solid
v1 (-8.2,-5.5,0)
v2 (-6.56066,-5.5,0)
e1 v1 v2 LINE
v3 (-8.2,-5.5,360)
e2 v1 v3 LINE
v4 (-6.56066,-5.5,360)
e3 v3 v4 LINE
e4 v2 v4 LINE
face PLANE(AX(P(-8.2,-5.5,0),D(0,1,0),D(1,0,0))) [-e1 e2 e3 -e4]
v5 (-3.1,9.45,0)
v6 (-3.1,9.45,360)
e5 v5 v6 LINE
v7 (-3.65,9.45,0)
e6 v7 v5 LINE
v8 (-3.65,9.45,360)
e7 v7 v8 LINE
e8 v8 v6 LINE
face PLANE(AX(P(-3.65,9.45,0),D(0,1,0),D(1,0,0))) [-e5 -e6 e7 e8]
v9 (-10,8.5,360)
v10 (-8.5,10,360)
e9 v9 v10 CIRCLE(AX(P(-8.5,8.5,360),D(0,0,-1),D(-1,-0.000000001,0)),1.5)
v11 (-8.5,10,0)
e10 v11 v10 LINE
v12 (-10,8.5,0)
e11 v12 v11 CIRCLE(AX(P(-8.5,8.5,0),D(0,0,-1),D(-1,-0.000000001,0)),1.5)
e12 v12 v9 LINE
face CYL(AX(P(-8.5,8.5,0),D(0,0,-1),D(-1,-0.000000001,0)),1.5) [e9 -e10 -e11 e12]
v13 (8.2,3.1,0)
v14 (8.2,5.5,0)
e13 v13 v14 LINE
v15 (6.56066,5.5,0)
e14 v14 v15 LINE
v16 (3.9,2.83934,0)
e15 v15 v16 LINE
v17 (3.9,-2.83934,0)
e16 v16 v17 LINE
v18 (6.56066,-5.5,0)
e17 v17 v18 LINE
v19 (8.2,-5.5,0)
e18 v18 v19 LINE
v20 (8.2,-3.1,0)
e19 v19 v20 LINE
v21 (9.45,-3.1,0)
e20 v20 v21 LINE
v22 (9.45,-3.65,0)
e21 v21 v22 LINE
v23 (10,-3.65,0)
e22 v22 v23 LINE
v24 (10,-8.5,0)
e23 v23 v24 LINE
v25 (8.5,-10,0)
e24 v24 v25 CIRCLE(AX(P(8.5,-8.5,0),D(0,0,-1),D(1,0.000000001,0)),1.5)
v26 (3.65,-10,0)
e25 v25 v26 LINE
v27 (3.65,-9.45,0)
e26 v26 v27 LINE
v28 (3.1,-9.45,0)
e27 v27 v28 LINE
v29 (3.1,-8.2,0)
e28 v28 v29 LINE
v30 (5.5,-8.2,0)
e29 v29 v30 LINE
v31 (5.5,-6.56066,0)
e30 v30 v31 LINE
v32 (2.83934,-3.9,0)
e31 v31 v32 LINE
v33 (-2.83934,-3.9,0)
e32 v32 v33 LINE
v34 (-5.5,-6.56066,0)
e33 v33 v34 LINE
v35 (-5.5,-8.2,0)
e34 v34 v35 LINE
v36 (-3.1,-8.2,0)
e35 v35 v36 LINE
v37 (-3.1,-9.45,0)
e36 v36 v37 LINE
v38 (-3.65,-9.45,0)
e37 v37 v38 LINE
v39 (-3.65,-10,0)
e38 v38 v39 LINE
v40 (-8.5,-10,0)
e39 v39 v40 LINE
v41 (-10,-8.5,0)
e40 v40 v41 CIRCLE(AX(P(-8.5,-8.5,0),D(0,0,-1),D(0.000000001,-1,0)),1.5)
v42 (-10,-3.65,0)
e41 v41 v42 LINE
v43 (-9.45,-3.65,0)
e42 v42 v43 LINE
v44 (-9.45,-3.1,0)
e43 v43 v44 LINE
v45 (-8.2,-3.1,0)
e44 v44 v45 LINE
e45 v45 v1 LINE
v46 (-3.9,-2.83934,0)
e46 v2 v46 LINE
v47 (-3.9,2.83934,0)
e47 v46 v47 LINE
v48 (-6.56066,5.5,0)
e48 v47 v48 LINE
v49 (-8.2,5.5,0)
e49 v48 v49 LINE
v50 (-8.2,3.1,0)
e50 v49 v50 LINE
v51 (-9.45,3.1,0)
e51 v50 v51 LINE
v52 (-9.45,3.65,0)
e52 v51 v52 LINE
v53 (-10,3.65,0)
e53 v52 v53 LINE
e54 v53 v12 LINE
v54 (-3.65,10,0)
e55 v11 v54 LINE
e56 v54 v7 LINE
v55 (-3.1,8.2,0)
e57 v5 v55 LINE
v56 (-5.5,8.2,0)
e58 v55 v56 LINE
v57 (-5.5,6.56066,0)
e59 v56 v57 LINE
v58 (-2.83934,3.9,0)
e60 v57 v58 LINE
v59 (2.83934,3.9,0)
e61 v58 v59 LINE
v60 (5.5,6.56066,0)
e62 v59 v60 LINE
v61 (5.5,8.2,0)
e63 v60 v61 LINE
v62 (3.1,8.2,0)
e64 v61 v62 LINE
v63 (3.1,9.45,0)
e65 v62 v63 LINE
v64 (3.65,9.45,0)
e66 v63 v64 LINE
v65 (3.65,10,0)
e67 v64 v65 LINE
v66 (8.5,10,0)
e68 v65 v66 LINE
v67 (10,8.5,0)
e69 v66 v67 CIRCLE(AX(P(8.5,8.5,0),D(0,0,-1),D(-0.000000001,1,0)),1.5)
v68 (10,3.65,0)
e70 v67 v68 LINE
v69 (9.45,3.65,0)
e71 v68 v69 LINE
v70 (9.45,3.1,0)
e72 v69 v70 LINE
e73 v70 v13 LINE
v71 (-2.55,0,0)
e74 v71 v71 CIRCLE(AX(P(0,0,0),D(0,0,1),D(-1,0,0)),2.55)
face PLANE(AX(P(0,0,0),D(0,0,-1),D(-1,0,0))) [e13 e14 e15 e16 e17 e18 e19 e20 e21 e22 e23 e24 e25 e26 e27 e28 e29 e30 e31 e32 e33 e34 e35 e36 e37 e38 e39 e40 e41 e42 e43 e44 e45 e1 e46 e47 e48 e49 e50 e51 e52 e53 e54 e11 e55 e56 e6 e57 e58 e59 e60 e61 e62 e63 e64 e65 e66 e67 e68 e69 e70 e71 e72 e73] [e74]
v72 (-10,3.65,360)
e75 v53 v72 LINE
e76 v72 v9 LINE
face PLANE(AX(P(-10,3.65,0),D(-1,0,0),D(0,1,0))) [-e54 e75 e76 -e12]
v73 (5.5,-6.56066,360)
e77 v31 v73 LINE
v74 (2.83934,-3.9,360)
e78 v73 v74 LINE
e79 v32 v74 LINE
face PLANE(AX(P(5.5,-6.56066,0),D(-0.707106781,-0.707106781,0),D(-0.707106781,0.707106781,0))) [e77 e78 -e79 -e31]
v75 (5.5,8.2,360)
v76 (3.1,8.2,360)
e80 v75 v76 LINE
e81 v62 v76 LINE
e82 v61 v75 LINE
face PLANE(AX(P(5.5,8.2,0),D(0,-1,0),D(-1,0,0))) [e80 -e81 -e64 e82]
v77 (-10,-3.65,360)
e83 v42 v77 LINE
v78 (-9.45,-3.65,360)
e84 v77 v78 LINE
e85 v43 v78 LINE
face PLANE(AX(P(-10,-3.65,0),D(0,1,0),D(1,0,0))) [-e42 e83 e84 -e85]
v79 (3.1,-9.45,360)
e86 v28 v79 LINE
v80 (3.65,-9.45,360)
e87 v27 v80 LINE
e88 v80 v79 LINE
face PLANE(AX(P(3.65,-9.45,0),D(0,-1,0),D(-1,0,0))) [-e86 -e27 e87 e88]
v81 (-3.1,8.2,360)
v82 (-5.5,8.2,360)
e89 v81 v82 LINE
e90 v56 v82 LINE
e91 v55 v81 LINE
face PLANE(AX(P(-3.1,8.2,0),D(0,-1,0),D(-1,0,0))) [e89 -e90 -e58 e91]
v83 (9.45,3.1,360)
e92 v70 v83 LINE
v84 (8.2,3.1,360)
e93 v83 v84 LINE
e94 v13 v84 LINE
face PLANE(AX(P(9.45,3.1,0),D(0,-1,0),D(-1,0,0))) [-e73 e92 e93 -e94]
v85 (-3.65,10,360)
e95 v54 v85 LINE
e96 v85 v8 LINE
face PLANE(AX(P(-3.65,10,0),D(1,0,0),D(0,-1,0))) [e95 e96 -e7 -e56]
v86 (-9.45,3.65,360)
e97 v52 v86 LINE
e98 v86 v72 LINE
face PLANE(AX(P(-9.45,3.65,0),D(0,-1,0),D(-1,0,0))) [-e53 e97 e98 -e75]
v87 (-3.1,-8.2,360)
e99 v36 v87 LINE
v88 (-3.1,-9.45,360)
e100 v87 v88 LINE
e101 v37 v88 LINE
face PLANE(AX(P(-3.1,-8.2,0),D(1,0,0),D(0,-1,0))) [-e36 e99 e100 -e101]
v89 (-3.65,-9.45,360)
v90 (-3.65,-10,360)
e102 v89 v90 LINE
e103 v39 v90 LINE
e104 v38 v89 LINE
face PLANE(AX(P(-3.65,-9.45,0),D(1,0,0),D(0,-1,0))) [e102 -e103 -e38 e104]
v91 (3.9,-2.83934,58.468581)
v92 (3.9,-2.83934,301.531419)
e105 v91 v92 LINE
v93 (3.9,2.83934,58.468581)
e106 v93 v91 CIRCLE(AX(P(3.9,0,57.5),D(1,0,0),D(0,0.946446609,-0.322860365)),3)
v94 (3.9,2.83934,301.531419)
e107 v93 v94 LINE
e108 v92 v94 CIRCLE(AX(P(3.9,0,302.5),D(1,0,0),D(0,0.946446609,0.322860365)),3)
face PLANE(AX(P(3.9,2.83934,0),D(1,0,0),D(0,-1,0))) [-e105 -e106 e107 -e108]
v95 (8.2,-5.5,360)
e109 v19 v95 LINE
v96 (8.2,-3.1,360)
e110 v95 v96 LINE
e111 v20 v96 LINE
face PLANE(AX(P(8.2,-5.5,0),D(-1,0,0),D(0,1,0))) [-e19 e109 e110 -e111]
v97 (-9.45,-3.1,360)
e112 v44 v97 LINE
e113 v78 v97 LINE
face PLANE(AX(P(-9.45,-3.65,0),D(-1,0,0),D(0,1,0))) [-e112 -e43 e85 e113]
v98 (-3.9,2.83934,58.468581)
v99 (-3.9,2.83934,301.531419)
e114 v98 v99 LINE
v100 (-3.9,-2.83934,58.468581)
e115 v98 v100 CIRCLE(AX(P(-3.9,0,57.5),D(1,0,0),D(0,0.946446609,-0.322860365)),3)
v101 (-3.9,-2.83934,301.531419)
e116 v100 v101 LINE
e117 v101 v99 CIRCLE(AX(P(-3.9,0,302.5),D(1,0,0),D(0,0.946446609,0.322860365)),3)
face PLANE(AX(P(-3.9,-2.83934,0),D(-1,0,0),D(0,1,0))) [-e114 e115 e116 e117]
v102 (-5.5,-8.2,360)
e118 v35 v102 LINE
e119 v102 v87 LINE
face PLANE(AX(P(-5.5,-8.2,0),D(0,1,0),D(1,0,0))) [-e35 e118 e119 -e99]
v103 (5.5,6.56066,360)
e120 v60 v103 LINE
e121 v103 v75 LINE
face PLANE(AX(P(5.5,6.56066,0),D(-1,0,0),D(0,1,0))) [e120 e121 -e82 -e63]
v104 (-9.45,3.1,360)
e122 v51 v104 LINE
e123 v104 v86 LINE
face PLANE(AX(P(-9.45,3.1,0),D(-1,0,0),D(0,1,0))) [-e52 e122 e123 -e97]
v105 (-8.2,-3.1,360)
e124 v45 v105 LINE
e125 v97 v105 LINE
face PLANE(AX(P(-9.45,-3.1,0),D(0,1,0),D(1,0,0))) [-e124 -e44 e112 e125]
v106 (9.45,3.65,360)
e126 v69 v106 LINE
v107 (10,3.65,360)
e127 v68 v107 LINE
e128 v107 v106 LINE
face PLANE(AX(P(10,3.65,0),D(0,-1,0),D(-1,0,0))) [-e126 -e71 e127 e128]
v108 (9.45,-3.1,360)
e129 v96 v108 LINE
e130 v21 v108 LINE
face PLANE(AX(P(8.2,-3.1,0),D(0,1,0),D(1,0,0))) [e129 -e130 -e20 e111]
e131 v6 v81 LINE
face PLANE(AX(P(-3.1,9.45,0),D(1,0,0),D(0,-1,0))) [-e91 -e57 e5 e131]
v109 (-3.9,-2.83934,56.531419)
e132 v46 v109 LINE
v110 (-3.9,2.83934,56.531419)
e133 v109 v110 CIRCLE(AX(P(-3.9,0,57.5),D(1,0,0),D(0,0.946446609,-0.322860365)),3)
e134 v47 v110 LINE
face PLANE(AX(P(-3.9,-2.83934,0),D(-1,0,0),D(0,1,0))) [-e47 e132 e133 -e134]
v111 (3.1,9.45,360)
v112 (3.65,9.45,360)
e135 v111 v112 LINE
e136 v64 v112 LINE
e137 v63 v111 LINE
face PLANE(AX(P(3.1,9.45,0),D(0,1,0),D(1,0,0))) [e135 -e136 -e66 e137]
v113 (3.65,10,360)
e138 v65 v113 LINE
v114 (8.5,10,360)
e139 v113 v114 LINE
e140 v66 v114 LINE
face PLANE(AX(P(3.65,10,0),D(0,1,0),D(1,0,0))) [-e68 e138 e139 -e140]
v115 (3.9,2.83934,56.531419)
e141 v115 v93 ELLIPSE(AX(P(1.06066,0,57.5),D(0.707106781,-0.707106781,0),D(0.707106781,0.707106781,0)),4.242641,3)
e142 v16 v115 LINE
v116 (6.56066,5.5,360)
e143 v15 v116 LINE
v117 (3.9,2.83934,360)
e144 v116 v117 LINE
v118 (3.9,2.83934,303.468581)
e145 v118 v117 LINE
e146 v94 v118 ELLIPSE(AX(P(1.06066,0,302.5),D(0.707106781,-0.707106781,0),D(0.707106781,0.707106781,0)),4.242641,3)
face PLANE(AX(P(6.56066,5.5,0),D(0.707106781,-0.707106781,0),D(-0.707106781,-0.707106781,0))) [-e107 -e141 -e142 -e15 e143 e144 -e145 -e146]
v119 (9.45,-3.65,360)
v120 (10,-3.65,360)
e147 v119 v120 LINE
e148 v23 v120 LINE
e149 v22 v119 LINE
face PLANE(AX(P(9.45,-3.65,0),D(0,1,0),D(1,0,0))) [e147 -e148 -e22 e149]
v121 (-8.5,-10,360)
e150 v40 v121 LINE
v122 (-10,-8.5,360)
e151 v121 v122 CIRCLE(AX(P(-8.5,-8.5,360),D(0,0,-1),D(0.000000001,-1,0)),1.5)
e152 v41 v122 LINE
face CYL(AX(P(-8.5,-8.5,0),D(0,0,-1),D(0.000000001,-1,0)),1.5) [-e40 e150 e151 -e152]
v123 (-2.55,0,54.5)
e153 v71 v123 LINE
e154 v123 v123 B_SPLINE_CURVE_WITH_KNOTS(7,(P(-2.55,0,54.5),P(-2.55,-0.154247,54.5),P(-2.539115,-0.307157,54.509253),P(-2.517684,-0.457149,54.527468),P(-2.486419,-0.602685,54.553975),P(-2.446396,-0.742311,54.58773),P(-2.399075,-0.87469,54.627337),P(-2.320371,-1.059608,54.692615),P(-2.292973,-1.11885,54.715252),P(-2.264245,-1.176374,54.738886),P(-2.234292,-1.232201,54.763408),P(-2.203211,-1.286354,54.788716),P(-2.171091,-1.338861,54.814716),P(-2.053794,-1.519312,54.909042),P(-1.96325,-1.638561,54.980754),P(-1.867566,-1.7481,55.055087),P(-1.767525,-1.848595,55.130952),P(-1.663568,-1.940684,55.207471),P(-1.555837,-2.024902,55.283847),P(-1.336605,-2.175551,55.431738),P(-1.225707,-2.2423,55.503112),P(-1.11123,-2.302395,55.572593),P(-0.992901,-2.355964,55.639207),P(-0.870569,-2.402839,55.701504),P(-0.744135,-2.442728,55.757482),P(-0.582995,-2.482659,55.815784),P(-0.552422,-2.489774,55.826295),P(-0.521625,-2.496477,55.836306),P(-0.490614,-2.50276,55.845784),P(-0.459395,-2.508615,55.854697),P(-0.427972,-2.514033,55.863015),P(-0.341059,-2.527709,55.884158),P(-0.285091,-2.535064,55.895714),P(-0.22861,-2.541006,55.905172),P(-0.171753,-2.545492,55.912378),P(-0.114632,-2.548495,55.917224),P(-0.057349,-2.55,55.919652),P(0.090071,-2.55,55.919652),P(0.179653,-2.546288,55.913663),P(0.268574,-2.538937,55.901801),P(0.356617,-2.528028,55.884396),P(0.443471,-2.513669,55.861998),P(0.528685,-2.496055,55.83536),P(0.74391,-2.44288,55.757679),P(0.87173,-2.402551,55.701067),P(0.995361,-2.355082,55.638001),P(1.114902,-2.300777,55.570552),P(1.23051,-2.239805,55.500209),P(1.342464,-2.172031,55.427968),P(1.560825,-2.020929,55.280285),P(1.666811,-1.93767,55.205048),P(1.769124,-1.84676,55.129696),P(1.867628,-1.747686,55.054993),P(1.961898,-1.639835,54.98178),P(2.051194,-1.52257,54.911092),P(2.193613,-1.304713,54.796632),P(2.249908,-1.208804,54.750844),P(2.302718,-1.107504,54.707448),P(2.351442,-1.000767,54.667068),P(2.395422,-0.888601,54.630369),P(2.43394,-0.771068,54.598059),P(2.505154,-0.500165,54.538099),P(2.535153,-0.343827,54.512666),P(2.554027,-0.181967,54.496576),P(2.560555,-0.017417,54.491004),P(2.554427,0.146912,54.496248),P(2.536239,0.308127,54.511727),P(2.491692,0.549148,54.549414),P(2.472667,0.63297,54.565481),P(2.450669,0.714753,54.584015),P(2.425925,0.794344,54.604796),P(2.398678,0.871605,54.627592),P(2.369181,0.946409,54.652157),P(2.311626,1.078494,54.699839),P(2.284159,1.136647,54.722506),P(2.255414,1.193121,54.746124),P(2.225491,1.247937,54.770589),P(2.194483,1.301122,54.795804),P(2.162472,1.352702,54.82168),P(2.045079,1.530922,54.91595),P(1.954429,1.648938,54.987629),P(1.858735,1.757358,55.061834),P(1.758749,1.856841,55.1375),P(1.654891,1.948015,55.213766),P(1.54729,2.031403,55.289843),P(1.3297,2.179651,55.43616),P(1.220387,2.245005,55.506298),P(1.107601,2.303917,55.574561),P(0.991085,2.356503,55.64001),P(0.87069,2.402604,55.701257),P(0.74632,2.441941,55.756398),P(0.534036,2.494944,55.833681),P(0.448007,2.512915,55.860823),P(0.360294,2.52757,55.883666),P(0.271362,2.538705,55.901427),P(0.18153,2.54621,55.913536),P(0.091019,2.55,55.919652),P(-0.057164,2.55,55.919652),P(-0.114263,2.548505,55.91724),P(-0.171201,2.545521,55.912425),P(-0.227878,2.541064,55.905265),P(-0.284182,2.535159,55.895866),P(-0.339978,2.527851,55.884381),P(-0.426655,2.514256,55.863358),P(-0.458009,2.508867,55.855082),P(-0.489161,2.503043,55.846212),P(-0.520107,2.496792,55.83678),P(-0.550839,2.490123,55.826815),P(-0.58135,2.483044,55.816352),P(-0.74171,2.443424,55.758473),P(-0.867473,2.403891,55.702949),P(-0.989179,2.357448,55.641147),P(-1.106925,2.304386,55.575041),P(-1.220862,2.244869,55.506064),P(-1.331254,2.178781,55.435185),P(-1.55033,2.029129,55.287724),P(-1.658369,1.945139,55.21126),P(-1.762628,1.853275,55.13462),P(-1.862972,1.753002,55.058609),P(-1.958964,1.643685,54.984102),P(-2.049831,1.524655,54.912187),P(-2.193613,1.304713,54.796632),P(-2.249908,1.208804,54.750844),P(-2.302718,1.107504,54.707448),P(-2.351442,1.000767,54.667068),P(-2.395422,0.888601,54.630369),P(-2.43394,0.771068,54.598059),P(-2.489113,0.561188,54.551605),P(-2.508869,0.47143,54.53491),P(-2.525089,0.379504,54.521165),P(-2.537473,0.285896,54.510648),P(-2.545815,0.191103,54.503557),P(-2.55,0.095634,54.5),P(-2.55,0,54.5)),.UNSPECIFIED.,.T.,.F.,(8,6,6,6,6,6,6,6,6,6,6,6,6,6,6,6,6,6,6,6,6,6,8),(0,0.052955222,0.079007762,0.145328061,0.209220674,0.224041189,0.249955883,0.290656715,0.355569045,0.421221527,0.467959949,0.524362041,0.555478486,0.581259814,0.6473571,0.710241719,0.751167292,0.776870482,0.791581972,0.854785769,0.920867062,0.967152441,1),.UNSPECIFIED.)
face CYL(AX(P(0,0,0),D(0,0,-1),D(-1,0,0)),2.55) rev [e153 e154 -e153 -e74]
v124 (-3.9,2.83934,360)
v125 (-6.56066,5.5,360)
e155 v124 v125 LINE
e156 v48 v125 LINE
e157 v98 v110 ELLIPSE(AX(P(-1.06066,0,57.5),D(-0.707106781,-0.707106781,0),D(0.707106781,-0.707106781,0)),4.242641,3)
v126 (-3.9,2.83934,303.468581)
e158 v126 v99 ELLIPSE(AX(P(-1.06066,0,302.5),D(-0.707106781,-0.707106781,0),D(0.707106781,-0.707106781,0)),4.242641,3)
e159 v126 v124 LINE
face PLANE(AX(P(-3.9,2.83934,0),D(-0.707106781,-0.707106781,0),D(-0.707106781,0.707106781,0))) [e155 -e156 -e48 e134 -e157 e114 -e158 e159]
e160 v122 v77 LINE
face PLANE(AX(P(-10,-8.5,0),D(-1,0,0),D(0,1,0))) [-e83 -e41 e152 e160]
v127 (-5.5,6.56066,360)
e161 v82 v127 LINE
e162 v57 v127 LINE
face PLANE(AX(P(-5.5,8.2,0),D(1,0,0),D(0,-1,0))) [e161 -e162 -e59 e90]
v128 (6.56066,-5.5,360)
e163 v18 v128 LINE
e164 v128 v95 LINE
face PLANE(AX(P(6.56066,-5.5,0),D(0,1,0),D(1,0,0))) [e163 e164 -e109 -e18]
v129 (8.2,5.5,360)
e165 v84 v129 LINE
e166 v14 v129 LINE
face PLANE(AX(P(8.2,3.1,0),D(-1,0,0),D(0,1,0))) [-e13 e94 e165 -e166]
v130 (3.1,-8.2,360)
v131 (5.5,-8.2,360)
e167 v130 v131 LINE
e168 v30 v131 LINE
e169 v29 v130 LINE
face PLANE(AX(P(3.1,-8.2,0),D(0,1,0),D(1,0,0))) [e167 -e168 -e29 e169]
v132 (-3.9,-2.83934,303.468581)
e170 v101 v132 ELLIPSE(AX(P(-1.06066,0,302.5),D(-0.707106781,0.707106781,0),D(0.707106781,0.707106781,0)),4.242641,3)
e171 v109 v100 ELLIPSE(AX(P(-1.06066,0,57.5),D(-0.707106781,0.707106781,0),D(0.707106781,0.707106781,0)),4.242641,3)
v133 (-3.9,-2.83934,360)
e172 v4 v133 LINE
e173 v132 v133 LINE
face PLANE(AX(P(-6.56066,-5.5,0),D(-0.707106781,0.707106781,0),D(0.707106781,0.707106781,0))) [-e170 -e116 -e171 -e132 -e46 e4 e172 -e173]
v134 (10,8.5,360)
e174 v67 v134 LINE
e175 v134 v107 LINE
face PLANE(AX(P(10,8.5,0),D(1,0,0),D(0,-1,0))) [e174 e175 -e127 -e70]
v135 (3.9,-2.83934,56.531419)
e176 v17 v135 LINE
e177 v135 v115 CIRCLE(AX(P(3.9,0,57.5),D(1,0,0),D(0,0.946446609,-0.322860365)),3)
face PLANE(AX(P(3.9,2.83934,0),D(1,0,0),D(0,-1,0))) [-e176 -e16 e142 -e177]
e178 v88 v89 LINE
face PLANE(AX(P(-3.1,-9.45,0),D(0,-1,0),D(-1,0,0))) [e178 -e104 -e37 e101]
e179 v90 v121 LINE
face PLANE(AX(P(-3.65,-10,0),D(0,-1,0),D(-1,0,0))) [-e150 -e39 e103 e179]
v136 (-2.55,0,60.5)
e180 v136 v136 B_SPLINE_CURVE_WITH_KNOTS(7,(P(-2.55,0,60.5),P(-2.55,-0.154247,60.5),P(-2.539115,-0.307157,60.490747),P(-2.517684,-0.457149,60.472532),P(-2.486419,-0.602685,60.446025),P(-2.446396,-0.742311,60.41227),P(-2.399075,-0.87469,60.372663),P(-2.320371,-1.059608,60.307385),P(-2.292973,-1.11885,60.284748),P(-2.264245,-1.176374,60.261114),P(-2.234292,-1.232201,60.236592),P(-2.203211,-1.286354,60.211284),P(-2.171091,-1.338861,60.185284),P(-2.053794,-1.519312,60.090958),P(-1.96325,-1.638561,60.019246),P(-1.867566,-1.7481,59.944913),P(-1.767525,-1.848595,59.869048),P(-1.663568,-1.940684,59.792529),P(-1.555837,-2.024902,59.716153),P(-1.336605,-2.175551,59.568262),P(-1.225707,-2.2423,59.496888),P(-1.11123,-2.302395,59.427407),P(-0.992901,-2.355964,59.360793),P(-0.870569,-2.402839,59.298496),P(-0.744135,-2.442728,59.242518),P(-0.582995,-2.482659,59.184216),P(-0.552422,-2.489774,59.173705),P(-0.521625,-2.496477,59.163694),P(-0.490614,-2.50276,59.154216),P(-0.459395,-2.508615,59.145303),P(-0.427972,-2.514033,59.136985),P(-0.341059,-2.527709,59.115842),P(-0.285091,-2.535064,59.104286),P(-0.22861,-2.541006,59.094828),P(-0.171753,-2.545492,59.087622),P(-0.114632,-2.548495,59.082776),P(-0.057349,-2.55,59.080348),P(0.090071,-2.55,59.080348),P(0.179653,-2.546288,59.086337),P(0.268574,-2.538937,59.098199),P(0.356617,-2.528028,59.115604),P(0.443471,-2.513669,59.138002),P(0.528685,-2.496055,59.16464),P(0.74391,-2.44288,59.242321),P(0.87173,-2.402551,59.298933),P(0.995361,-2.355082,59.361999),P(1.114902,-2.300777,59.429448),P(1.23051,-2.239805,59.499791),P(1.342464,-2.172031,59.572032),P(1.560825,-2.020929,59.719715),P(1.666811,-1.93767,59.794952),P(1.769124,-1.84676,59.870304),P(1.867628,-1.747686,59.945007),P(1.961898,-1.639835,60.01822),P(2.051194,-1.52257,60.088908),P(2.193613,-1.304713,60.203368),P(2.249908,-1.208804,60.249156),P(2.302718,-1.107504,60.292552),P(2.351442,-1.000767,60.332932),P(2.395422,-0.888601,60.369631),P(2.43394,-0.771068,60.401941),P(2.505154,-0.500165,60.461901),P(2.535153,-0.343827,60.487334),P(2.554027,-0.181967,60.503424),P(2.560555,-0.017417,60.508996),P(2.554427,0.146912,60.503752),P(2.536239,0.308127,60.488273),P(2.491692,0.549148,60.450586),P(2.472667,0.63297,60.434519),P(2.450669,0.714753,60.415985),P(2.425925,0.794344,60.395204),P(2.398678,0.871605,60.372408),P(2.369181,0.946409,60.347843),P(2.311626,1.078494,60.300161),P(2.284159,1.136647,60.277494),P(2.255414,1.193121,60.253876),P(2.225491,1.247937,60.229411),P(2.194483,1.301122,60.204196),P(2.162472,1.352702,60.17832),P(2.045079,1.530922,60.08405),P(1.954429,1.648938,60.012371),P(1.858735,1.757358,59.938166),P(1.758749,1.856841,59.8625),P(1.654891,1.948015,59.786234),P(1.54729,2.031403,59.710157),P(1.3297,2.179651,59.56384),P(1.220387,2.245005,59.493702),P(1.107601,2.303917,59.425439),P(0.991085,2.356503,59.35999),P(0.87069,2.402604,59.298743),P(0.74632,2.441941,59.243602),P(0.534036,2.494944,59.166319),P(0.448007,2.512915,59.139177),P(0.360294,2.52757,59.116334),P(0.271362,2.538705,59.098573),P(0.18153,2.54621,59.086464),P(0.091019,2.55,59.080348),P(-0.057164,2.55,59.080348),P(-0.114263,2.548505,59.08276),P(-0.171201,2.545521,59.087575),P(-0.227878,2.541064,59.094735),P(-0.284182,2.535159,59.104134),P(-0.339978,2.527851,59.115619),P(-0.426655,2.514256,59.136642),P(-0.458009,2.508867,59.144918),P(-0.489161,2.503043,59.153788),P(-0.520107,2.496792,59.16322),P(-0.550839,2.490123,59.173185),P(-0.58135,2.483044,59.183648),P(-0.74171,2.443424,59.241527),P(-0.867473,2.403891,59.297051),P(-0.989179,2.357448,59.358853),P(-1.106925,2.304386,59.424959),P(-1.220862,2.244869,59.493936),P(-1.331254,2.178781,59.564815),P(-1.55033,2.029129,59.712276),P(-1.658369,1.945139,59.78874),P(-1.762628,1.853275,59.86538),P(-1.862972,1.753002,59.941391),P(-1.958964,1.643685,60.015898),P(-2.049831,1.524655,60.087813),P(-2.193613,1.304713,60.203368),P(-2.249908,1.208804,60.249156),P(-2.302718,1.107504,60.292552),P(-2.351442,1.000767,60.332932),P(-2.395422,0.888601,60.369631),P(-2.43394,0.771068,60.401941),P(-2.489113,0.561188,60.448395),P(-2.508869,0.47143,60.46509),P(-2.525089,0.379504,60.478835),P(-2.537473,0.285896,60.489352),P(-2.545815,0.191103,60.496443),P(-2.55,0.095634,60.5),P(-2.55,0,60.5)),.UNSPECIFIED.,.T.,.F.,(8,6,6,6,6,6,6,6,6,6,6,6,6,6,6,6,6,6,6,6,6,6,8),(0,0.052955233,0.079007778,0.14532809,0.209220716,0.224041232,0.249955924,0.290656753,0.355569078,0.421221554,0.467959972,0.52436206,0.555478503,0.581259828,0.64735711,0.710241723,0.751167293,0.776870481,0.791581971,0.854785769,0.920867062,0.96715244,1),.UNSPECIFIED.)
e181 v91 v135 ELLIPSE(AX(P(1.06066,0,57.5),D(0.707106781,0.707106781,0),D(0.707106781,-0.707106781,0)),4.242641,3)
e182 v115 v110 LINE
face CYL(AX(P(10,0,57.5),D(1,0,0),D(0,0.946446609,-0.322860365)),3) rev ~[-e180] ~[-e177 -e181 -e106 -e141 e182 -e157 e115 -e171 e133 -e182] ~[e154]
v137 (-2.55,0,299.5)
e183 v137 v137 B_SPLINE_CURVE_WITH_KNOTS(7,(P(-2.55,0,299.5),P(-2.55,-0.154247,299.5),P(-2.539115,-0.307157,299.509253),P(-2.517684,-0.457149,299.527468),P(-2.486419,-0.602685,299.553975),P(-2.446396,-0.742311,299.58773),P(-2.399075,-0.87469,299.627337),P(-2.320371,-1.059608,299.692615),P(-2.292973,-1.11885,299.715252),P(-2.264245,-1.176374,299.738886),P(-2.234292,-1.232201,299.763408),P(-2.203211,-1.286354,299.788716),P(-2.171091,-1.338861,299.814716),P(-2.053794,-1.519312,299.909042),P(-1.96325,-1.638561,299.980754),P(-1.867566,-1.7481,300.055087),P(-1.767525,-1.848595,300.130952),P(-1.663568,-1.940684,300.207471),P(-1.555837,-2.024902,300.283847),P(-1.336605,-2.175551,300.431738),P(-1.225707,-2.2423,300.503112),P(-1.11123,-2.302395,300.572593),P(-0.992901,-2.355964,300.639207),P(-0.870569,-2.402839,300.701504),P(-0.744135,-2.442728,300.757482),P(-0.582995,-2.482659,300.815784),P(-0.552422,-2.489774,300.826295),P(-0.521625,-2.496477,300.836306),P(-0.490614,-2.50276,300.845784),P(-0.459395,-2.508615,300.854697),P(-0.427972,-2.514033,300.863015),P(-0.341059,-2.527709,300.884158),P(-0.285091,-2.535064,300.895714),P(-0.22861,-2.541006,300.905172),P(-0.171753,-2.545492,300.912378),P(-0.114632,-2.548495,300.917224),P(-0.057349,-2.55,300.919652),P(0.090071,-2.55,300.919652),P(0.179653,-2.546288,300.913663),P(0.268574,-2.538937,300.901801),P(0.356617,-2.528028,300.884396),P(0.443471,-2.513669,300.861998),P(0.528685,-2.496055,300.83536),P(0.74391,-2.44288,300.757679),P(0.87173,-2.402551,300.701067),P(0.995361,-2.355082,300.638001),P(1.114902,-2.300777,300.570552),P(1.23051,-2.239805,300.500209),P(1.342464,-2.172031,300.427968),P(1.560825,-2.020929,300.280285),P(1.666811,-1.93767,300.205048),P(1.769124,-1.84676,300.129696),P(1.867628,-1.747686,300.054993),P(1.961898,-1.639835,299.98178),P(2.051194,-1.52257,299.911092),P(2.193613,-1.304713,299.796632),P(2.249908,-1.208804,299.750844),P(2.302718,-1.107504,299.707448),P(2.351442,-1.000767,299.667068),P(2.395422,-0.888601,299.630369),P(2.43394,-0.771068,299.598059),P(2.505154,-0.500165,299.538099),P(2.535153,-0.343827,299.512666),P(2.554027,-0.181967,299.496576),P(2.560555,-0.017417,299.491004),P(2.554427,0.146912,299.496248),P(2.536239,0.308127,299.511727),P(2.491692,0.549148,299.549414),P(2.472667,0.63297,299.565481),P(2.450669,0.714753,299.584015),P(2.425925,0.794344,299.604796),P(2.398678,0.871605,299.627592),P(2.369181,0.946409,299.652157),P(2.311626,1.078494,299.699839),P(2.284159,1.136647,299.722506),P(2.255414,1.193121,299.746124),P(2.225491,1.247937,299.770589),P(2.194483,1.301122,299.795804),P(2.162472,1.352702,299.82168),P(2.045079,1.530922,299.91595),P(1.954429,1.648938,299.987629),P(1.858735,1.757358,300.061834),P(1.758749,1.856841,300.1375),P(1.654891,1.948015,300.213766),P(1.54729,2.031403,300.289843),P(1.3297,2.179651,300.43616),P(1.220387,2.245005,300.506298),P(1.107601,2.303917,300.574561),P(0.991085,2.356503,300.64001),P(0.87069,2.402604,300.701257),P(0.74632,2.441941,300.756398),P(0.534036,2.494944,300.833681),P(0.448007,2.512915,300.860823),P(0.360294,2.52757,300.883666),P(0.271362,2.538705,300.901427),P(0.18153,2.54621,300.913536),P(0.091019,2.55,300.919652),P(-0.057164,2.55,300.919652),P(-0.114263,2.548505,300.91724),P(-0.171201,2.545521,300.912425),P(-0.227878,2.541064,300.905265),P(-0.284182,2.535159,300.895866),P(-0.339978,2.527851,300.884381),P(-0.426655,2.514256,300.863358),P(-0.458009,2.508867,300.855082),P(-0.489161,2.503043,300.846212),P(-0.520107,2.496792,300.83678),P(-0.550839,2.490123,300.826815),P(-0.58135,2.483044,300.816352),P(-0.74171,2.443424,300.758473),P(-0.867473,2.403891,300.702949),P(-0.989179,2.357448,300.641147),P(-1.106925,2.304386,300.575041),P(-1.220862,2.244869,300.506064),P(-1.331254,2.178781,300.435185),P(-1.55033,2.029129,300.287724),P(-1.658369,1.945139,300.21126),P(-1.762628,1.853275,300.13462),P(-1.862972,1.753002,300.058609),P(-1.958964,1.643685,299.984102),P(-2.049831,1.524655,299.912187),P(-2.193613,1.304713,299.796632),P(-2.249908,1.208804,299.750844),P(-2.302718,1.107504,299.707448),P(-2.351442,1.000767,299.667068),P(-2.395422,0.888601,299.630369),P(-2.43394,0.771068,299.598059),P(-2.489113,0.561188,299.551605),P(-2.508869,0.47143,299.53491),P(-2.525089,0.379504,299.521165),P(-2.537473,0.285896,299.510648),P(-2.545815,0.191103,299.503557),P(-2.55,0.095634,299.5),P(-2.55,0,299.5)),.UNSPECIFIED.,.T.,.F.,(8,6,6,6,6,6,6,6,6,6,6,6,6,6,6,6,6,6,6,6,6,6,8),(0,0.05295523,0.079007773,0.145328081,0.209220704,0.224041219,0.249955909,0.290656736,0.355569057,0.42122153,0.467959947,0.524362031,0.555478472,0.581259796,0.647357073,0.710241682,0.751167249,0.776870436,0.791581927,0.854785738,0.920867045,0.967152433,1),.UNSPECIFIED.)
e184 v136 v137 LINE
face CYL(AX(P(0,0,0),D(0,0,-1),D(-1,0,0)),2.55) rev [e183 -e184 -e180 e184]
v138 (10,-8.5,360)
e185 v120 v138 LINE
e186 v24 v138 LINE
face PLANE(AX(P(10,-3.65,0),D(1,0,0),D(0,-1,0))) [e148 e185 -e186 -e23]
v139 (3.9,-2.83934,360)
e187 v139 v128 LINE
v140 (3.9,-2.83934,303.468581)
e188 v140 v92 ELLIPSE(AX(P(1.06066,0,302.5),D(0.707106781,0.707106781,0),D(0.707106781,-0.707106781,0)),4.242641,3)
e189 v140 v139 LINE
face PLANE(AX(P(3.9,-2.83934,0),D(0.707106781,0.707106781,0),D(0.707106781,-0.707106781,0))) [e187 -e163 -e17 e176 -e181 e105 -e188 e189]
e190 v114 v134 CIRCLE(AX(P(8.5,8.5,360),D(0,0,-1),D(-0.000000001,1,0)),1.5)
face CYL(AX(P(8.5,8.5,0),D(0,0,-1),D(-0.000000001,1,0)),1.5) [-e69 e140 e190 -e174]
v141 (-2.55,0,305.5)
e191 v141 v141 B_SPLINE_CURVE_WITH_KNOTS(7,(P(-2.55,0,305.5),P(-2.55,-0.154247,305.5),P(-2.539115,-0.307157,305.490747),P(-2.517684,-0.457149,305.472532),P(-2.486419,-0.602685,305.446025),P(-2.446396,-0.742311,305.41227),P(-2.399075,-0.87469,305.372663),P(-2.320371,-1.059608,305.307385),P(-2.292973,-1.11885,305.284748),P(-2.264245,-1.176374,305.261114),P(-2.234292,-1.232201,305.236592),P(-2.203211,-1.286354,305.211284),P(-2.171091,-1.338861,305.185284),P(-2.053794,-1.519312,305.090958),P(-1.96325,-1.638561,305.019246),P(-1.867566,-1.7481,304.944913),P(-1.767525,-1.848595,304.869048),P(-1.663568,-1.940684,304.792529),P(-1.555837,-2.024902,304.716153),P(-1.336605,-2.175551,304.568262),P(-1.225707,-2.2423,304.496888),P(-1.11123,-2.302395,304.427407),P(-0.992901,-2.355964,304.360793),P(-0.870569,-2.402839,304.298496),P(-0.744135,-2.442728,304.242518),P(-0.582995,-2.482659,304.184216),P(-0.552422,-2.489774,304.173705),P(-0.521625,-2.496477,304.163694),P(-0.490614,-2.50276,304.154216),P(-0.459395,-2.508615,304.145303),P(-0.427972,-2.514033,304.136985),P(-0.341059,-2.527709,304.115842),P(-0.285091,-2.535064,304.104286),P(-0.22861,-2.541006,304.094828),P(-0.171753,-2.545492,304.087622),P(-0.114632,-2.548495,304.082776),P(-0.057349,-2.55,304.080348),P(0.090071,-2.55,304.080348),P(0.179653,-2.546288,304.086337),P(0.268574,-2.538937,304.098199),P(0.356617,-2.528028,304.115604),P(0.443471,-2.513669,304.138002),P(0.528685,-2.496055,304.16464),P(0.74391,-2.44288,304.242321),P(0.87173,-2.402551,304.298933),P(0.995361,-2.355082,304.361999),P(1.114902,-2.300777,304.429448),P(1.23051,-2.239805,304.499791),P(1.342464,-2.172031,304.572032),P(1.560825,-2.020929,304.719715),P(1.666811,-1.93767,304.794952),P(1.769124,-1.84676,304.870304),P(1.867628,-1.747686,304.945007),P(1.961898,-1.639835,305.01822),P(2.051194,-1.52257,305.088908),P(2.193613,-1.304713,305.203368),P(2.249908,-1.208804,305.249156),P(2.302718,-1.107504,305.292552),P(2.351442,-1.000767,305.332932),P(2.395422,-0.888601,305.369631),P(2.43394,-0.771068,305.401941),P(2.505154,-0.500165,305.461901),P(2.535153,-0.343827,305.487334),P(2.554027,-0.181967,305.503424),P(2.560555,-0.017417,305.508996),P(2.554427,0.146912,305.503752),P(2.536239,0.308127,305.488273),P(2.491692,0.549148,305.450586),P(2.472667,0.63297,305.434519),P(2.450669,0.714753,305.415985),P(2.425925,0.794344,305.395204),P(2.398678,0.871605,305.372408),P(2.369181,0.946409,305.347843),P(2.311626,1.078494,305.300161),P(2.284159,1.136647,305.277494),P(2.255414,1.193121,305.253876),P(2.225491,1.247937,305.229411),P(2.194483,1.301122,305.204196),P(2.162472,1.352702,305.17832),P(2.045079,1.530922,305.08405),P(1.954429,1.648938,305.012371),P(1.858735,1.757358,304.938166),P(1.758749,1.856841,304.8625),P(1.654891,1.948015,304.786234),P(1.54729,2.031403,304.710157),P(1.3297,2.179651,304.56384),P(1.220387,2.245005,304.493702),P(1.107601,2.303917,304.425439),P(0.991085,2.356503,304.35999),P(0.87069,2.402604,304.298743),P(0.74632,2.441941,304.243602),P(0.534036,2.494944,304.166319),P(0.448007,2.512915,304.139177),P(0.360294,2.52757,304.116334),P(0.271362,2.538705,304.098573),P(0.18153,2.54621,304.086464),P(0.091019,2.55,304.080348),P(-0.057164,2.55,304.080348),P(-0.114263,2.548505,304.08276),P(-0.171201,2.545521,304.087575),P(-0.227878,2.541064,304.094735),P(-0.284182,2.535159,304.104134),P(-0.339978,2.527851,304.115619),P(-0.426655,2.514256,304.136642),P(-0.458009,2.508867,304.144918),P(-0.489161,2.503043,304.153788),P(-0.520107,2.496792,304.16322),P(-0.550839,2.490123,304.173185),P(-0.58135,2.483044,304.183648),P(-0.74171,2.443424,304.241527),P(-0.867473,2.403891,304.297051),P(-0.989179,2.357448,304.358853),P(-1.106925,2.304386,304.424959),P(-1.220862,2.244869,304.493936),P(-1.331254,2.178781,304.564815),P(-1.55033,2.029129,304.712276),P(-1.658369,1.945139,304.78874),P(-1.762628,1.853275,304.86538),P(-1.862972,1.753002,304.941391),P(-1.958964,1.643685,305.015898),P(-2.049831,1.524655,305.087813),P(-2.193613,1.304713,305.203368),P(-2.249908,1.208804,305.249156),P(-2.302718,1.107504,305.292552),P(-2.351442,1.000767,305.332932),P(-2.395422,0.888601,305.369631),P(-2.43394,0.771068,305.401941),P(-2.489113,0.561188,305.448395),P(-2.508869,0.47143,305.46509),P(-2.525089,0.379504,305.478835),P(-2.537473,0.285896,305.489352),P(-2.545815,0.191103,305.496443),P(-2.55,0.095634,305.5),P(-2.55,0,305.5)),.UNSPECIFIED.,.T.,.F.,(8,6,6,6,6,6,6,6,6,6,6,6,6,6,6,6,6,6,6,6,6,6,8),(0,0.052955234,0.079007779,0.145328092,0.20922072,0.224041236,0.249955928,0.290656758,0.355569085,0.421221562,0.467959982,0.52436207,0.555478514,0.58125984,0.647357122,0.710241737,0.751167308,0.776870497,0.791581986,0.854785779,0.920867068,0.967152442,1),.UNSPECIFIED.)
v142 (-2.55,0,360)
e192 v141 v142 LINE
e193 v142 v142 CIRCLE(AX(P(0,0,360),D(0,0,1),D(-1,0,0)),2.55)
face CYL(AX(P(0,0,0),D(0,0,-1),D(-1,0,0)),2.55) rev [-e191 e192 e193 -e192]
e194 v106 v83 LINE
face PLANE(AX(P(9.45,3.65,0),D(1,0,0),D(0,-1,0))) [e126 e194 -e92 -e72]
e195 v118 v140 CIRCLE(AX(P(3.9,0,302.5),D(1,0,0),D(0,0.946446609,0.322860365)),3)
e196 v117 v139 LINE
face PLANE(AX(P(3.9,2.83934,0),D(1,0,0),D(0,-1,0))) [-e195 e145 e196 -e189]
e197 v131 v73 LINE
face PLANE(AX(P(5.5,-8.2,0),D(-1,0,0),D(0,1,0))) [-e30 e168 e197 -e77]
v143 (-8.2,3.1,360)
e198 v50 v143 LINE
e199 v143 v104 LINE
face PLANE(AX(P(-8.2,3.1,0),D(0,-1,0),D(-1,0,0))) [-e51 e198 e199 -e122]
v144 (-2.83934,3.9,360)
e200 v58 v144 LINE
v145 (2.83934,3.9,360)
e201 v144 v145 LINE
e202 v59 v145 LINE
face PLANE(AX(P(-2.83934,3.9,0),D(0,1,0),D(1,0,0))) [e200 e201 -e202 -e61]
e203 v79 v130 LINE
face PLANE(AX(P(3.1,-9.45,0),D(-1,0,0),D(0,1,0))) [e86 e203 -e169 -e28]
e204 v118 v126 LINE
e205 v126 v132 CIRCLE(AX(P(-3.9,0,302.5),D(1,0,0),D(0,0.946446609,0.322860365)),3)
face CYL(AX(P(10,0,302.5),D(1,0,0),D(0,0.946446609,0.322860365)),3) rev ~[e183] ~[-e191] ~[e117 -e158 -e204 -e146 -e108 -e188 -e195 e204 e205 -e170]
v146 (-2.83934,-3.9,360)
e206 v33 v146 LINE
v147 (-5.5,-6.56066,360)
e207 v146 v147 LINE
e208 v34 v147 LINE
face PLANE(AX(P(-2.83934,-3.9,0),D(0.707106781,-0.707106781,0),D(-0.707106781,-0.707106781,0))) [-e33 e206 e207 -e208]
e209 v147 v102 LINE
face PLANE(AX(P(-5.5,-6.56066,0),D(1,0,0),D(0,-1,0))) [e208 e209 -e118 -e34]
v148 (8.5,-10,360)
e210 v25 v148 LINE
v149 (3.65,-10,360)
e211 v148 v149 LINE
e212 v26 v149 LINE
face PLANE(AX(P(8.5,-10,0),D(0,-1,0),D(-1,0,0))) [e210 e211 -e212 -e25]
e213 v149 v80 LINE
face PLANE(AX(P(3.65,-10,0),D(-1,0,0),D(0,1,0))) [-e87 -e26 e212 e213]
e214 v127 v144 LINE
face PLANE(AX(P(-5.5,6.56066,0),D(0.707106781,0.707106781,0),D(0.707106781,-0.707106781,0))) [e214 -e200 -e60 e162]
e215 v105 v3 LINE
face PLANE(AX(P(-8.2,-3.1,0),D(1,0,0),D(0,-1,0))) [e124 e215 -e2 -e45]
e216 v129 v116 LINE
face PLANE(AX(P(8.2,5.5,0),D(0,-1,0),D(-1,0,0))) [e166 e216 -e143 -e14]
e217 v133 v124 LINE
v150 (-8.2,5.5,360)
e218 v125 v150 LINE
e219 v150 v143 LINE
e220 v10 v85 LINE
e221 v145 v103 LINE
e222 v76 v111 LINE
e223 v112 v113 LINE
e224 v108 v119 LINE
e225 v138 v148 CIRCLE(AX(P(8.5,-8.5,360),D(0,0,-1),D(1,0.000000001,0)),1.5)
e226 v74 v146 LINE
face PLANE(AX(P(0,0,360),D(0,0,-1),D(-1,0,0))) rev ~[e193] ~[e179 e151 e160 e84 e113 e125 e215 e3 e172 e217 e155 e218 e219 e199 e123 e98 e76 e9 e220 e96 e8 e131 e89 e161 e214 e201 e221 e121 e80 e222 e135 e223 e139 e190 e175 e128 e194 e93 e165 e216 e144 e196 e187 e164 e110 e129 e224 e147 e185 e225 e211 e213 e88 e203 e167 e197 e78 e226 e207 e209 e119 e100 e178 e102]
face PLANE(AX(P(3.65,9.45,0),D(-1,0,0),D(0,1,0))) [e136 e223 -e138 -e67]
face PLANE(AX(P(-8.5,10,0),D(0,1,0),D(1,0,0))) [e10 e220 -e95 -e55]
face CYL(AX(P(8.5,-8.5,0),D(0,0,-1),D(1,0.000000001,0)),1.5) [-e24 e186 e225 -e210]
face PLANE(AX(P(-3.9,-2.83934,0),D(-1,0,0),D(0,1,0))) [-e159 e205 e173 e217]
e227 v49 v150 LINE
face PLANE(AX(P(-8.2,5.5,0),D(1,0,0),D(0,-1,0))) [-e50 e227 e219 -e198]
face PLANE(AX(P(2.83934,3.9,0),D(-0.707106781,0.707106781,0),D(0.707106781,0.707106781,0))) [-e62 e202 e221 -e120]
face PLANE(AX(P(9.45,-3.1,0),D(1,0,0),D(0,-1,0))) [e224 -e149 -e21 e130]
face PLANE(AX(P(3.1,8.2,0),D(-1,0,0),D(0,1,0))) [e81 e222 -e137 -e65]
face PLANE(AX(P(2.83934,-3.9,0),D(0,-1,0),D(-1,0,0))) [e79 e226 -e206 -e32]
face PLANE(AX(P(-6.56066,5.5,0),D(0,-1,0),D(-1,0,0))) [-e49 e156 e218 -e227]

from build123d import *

# Parameters (mm, degrees)
SKETCH_2_R          = 2.55
EXTRUDE_1_DEPTH     = 360
SKETCH_3_R          = 3
CUT_EXTRUDE_1_DEPTH = 361.693775937


with BuildPart() as part:
    # 草图2 → 凸台-拉伸1 (new body)
    with BuildSketch(Plane.XY):
        with BuildLine():
            Line((-3.9, 2.839339828), (-6.560660172, 5.5))
            Line((-6.560660172, 5.5), (-8.2, 5.5))
            Line((-8.2, 5.5), (-8.2, 3.1))
            Line((-8.2, 3.1), (-9.45, 3.1))
            Line((-9.45, 3.1), (-9.45, 3.65))
            Line((-9.45, 3.65), (-10, 3.65))
            Line((-10, 3.65), (-10, 8.5))
            ThreePointArc((-10, 8.5), (-9.560660172, 9.560660172), (-8.5, 10))
            Line((-8.5, 10), (-3.65, 10))
            Line((-3.65, 10), (-3.65, 9.45))
            Line((-3.65, 9.45), (-3.1, 9.45))
            Line((-3.1, 9.45), (-3.1, 8.2))
            Line((-3.1, 8.2), (-5.5, 8.2))
            Line((-5.5, 8.2), (-5.5, 6.560660172))
            Line((-5.5, 6.560660172), (-2.839339828, 3.9))
            Line((-2.839339828, 3.9), (2.839339828, 3.9))
            Line((2.839339828, 3.9), (5.5, 6.560660172))
            Line((5.5, 6.560660172), (5.5, 8.2))
            Line((5.5, 8.2), (3.1, 8.2))
            Line((3.1, 8.2), (3.1, 9.45))
            Line((3.1, 9.45), (3.65, 9.45))
            Line((3.65, 9.45), (3.65, 10))
            Line((3.65, 10), (8.5, 10))
            ThreePointArc((8.5, 10), (9.560660172, 9.560660172), (10, 8.5))
            Line((10, 8.5), (10, 3.65))
            Line((10, 3.65), (9.45, 3.65))
            Line((9.45, 3.65), (9.45, 3.1))
            Line((9.45, 3.1), (8.2, 3.1))
            Line((8.2, 3.1), (8.2, 5.5))
            Line((8.2, 5.5), (6.560660172, 5.5))
            Line((6.560660172, 5.5), (3.9, 2.839339828))
            Line((3.9, 2.839339828), (3.9, -2.839339828))
            Line((3.9, -2.839339828), (6.560660172, -5.5))
            Line((6.560660172, -5.5), (8.2, -5.5))
            Line((8.2, -5.5), (8.2, -3.1))
            Line((8.2, -3.1), (9.45, -3.1))
            Line((9.45, -3.1), (9.45, -3.65))
            Line((9.45, -3.65), (10, -3.65))
            Line((10, -3.65), (10, -8.5))
            ThreePointArc((10, -8.5), (9.560660172, -9.560660172), (8.5, -10))
            Line((8.5, -10), (3.65, -10))
            Line((3.65, -10), (3.65, -9.45))
            Line((3.65, -9.45), (3.1, -9.45))
            Line((3.1, -9.45), (3.1, -8.2))
            Line((3.1, -8.2), (5.5, -8.2))
            Line((5.5, -8.2), (5.5, -6.560660172))
            Line((5.5, -6.560660172), (2.839339828, -3.9))
            Line((2.839339828, -3.9), (-2.839339828, -3.9))
            Line((-2.839339828, -3.9), (-5.5, -6.560660172))
            Line((-5.5, -6.560660172), (-5.5, -8.2))
            Line((-5.5, -8.2), (-3.1, -8.2))
            Line((-3.1, -8.2), (-3.1, -9.45))
            Line((-3.1, -9.45), (-3.65, -9.45))
            Line((-3.65, -9.45), (-3.65, -10))
            Line((-3.65, -10), (-8.5, -10))
            ThreePointArc((-8.5, -10), (-9.560660172, -9.560660172), (-10, -8.5))
            Line((-10, -8.5), (-10, -3.65))
            Line((-10, -3.65), (-9.45, -3.65))
            Line((-9.45, -3.65), (-9.45, -3.1))
            Line((-9.45, -3.1), (-8.2, -3.1))
            Line((-8.2, -3.1), (-8.2, -5.5))
            Line((-8.2, -5.5), (-6.560660172, -5.5))
            Line((-6.560660172, -5.5), (-3.9, -2.839339828))
            Line((-3.9, -2.839339828), (-3.9, 2.839339828))
        make_face()
        with Locations(Location((0, 0, 0), (0, 0, 180))):
            Circle(SKETCH_2_R, mode=Mode.SUBTRACT)
    extrude(amount=EXTRUDE_1_DEPTH)

    # 草图3 → 切除-拉伸1 (cut, through all)
    with BuildSketch(Plane(origin=(10, 0, 0), x_dir=(0, 0, -1), z_dir=(1, 0, 0))):
        with Locations(Location((-57.5, 0, 0), (0, 0, 71.16400384))):
            Circle(SKETCH_3_R)
        with Locations(Location((-302.5, 0, 0), (0, 0, 108.835996159))):
            Circle(SKETCH_3_R)
    extrude(amount=-CUT_EXTRUDE_1_DEPTH, mode=Mode.SUBTRACT)


solid = part.part
